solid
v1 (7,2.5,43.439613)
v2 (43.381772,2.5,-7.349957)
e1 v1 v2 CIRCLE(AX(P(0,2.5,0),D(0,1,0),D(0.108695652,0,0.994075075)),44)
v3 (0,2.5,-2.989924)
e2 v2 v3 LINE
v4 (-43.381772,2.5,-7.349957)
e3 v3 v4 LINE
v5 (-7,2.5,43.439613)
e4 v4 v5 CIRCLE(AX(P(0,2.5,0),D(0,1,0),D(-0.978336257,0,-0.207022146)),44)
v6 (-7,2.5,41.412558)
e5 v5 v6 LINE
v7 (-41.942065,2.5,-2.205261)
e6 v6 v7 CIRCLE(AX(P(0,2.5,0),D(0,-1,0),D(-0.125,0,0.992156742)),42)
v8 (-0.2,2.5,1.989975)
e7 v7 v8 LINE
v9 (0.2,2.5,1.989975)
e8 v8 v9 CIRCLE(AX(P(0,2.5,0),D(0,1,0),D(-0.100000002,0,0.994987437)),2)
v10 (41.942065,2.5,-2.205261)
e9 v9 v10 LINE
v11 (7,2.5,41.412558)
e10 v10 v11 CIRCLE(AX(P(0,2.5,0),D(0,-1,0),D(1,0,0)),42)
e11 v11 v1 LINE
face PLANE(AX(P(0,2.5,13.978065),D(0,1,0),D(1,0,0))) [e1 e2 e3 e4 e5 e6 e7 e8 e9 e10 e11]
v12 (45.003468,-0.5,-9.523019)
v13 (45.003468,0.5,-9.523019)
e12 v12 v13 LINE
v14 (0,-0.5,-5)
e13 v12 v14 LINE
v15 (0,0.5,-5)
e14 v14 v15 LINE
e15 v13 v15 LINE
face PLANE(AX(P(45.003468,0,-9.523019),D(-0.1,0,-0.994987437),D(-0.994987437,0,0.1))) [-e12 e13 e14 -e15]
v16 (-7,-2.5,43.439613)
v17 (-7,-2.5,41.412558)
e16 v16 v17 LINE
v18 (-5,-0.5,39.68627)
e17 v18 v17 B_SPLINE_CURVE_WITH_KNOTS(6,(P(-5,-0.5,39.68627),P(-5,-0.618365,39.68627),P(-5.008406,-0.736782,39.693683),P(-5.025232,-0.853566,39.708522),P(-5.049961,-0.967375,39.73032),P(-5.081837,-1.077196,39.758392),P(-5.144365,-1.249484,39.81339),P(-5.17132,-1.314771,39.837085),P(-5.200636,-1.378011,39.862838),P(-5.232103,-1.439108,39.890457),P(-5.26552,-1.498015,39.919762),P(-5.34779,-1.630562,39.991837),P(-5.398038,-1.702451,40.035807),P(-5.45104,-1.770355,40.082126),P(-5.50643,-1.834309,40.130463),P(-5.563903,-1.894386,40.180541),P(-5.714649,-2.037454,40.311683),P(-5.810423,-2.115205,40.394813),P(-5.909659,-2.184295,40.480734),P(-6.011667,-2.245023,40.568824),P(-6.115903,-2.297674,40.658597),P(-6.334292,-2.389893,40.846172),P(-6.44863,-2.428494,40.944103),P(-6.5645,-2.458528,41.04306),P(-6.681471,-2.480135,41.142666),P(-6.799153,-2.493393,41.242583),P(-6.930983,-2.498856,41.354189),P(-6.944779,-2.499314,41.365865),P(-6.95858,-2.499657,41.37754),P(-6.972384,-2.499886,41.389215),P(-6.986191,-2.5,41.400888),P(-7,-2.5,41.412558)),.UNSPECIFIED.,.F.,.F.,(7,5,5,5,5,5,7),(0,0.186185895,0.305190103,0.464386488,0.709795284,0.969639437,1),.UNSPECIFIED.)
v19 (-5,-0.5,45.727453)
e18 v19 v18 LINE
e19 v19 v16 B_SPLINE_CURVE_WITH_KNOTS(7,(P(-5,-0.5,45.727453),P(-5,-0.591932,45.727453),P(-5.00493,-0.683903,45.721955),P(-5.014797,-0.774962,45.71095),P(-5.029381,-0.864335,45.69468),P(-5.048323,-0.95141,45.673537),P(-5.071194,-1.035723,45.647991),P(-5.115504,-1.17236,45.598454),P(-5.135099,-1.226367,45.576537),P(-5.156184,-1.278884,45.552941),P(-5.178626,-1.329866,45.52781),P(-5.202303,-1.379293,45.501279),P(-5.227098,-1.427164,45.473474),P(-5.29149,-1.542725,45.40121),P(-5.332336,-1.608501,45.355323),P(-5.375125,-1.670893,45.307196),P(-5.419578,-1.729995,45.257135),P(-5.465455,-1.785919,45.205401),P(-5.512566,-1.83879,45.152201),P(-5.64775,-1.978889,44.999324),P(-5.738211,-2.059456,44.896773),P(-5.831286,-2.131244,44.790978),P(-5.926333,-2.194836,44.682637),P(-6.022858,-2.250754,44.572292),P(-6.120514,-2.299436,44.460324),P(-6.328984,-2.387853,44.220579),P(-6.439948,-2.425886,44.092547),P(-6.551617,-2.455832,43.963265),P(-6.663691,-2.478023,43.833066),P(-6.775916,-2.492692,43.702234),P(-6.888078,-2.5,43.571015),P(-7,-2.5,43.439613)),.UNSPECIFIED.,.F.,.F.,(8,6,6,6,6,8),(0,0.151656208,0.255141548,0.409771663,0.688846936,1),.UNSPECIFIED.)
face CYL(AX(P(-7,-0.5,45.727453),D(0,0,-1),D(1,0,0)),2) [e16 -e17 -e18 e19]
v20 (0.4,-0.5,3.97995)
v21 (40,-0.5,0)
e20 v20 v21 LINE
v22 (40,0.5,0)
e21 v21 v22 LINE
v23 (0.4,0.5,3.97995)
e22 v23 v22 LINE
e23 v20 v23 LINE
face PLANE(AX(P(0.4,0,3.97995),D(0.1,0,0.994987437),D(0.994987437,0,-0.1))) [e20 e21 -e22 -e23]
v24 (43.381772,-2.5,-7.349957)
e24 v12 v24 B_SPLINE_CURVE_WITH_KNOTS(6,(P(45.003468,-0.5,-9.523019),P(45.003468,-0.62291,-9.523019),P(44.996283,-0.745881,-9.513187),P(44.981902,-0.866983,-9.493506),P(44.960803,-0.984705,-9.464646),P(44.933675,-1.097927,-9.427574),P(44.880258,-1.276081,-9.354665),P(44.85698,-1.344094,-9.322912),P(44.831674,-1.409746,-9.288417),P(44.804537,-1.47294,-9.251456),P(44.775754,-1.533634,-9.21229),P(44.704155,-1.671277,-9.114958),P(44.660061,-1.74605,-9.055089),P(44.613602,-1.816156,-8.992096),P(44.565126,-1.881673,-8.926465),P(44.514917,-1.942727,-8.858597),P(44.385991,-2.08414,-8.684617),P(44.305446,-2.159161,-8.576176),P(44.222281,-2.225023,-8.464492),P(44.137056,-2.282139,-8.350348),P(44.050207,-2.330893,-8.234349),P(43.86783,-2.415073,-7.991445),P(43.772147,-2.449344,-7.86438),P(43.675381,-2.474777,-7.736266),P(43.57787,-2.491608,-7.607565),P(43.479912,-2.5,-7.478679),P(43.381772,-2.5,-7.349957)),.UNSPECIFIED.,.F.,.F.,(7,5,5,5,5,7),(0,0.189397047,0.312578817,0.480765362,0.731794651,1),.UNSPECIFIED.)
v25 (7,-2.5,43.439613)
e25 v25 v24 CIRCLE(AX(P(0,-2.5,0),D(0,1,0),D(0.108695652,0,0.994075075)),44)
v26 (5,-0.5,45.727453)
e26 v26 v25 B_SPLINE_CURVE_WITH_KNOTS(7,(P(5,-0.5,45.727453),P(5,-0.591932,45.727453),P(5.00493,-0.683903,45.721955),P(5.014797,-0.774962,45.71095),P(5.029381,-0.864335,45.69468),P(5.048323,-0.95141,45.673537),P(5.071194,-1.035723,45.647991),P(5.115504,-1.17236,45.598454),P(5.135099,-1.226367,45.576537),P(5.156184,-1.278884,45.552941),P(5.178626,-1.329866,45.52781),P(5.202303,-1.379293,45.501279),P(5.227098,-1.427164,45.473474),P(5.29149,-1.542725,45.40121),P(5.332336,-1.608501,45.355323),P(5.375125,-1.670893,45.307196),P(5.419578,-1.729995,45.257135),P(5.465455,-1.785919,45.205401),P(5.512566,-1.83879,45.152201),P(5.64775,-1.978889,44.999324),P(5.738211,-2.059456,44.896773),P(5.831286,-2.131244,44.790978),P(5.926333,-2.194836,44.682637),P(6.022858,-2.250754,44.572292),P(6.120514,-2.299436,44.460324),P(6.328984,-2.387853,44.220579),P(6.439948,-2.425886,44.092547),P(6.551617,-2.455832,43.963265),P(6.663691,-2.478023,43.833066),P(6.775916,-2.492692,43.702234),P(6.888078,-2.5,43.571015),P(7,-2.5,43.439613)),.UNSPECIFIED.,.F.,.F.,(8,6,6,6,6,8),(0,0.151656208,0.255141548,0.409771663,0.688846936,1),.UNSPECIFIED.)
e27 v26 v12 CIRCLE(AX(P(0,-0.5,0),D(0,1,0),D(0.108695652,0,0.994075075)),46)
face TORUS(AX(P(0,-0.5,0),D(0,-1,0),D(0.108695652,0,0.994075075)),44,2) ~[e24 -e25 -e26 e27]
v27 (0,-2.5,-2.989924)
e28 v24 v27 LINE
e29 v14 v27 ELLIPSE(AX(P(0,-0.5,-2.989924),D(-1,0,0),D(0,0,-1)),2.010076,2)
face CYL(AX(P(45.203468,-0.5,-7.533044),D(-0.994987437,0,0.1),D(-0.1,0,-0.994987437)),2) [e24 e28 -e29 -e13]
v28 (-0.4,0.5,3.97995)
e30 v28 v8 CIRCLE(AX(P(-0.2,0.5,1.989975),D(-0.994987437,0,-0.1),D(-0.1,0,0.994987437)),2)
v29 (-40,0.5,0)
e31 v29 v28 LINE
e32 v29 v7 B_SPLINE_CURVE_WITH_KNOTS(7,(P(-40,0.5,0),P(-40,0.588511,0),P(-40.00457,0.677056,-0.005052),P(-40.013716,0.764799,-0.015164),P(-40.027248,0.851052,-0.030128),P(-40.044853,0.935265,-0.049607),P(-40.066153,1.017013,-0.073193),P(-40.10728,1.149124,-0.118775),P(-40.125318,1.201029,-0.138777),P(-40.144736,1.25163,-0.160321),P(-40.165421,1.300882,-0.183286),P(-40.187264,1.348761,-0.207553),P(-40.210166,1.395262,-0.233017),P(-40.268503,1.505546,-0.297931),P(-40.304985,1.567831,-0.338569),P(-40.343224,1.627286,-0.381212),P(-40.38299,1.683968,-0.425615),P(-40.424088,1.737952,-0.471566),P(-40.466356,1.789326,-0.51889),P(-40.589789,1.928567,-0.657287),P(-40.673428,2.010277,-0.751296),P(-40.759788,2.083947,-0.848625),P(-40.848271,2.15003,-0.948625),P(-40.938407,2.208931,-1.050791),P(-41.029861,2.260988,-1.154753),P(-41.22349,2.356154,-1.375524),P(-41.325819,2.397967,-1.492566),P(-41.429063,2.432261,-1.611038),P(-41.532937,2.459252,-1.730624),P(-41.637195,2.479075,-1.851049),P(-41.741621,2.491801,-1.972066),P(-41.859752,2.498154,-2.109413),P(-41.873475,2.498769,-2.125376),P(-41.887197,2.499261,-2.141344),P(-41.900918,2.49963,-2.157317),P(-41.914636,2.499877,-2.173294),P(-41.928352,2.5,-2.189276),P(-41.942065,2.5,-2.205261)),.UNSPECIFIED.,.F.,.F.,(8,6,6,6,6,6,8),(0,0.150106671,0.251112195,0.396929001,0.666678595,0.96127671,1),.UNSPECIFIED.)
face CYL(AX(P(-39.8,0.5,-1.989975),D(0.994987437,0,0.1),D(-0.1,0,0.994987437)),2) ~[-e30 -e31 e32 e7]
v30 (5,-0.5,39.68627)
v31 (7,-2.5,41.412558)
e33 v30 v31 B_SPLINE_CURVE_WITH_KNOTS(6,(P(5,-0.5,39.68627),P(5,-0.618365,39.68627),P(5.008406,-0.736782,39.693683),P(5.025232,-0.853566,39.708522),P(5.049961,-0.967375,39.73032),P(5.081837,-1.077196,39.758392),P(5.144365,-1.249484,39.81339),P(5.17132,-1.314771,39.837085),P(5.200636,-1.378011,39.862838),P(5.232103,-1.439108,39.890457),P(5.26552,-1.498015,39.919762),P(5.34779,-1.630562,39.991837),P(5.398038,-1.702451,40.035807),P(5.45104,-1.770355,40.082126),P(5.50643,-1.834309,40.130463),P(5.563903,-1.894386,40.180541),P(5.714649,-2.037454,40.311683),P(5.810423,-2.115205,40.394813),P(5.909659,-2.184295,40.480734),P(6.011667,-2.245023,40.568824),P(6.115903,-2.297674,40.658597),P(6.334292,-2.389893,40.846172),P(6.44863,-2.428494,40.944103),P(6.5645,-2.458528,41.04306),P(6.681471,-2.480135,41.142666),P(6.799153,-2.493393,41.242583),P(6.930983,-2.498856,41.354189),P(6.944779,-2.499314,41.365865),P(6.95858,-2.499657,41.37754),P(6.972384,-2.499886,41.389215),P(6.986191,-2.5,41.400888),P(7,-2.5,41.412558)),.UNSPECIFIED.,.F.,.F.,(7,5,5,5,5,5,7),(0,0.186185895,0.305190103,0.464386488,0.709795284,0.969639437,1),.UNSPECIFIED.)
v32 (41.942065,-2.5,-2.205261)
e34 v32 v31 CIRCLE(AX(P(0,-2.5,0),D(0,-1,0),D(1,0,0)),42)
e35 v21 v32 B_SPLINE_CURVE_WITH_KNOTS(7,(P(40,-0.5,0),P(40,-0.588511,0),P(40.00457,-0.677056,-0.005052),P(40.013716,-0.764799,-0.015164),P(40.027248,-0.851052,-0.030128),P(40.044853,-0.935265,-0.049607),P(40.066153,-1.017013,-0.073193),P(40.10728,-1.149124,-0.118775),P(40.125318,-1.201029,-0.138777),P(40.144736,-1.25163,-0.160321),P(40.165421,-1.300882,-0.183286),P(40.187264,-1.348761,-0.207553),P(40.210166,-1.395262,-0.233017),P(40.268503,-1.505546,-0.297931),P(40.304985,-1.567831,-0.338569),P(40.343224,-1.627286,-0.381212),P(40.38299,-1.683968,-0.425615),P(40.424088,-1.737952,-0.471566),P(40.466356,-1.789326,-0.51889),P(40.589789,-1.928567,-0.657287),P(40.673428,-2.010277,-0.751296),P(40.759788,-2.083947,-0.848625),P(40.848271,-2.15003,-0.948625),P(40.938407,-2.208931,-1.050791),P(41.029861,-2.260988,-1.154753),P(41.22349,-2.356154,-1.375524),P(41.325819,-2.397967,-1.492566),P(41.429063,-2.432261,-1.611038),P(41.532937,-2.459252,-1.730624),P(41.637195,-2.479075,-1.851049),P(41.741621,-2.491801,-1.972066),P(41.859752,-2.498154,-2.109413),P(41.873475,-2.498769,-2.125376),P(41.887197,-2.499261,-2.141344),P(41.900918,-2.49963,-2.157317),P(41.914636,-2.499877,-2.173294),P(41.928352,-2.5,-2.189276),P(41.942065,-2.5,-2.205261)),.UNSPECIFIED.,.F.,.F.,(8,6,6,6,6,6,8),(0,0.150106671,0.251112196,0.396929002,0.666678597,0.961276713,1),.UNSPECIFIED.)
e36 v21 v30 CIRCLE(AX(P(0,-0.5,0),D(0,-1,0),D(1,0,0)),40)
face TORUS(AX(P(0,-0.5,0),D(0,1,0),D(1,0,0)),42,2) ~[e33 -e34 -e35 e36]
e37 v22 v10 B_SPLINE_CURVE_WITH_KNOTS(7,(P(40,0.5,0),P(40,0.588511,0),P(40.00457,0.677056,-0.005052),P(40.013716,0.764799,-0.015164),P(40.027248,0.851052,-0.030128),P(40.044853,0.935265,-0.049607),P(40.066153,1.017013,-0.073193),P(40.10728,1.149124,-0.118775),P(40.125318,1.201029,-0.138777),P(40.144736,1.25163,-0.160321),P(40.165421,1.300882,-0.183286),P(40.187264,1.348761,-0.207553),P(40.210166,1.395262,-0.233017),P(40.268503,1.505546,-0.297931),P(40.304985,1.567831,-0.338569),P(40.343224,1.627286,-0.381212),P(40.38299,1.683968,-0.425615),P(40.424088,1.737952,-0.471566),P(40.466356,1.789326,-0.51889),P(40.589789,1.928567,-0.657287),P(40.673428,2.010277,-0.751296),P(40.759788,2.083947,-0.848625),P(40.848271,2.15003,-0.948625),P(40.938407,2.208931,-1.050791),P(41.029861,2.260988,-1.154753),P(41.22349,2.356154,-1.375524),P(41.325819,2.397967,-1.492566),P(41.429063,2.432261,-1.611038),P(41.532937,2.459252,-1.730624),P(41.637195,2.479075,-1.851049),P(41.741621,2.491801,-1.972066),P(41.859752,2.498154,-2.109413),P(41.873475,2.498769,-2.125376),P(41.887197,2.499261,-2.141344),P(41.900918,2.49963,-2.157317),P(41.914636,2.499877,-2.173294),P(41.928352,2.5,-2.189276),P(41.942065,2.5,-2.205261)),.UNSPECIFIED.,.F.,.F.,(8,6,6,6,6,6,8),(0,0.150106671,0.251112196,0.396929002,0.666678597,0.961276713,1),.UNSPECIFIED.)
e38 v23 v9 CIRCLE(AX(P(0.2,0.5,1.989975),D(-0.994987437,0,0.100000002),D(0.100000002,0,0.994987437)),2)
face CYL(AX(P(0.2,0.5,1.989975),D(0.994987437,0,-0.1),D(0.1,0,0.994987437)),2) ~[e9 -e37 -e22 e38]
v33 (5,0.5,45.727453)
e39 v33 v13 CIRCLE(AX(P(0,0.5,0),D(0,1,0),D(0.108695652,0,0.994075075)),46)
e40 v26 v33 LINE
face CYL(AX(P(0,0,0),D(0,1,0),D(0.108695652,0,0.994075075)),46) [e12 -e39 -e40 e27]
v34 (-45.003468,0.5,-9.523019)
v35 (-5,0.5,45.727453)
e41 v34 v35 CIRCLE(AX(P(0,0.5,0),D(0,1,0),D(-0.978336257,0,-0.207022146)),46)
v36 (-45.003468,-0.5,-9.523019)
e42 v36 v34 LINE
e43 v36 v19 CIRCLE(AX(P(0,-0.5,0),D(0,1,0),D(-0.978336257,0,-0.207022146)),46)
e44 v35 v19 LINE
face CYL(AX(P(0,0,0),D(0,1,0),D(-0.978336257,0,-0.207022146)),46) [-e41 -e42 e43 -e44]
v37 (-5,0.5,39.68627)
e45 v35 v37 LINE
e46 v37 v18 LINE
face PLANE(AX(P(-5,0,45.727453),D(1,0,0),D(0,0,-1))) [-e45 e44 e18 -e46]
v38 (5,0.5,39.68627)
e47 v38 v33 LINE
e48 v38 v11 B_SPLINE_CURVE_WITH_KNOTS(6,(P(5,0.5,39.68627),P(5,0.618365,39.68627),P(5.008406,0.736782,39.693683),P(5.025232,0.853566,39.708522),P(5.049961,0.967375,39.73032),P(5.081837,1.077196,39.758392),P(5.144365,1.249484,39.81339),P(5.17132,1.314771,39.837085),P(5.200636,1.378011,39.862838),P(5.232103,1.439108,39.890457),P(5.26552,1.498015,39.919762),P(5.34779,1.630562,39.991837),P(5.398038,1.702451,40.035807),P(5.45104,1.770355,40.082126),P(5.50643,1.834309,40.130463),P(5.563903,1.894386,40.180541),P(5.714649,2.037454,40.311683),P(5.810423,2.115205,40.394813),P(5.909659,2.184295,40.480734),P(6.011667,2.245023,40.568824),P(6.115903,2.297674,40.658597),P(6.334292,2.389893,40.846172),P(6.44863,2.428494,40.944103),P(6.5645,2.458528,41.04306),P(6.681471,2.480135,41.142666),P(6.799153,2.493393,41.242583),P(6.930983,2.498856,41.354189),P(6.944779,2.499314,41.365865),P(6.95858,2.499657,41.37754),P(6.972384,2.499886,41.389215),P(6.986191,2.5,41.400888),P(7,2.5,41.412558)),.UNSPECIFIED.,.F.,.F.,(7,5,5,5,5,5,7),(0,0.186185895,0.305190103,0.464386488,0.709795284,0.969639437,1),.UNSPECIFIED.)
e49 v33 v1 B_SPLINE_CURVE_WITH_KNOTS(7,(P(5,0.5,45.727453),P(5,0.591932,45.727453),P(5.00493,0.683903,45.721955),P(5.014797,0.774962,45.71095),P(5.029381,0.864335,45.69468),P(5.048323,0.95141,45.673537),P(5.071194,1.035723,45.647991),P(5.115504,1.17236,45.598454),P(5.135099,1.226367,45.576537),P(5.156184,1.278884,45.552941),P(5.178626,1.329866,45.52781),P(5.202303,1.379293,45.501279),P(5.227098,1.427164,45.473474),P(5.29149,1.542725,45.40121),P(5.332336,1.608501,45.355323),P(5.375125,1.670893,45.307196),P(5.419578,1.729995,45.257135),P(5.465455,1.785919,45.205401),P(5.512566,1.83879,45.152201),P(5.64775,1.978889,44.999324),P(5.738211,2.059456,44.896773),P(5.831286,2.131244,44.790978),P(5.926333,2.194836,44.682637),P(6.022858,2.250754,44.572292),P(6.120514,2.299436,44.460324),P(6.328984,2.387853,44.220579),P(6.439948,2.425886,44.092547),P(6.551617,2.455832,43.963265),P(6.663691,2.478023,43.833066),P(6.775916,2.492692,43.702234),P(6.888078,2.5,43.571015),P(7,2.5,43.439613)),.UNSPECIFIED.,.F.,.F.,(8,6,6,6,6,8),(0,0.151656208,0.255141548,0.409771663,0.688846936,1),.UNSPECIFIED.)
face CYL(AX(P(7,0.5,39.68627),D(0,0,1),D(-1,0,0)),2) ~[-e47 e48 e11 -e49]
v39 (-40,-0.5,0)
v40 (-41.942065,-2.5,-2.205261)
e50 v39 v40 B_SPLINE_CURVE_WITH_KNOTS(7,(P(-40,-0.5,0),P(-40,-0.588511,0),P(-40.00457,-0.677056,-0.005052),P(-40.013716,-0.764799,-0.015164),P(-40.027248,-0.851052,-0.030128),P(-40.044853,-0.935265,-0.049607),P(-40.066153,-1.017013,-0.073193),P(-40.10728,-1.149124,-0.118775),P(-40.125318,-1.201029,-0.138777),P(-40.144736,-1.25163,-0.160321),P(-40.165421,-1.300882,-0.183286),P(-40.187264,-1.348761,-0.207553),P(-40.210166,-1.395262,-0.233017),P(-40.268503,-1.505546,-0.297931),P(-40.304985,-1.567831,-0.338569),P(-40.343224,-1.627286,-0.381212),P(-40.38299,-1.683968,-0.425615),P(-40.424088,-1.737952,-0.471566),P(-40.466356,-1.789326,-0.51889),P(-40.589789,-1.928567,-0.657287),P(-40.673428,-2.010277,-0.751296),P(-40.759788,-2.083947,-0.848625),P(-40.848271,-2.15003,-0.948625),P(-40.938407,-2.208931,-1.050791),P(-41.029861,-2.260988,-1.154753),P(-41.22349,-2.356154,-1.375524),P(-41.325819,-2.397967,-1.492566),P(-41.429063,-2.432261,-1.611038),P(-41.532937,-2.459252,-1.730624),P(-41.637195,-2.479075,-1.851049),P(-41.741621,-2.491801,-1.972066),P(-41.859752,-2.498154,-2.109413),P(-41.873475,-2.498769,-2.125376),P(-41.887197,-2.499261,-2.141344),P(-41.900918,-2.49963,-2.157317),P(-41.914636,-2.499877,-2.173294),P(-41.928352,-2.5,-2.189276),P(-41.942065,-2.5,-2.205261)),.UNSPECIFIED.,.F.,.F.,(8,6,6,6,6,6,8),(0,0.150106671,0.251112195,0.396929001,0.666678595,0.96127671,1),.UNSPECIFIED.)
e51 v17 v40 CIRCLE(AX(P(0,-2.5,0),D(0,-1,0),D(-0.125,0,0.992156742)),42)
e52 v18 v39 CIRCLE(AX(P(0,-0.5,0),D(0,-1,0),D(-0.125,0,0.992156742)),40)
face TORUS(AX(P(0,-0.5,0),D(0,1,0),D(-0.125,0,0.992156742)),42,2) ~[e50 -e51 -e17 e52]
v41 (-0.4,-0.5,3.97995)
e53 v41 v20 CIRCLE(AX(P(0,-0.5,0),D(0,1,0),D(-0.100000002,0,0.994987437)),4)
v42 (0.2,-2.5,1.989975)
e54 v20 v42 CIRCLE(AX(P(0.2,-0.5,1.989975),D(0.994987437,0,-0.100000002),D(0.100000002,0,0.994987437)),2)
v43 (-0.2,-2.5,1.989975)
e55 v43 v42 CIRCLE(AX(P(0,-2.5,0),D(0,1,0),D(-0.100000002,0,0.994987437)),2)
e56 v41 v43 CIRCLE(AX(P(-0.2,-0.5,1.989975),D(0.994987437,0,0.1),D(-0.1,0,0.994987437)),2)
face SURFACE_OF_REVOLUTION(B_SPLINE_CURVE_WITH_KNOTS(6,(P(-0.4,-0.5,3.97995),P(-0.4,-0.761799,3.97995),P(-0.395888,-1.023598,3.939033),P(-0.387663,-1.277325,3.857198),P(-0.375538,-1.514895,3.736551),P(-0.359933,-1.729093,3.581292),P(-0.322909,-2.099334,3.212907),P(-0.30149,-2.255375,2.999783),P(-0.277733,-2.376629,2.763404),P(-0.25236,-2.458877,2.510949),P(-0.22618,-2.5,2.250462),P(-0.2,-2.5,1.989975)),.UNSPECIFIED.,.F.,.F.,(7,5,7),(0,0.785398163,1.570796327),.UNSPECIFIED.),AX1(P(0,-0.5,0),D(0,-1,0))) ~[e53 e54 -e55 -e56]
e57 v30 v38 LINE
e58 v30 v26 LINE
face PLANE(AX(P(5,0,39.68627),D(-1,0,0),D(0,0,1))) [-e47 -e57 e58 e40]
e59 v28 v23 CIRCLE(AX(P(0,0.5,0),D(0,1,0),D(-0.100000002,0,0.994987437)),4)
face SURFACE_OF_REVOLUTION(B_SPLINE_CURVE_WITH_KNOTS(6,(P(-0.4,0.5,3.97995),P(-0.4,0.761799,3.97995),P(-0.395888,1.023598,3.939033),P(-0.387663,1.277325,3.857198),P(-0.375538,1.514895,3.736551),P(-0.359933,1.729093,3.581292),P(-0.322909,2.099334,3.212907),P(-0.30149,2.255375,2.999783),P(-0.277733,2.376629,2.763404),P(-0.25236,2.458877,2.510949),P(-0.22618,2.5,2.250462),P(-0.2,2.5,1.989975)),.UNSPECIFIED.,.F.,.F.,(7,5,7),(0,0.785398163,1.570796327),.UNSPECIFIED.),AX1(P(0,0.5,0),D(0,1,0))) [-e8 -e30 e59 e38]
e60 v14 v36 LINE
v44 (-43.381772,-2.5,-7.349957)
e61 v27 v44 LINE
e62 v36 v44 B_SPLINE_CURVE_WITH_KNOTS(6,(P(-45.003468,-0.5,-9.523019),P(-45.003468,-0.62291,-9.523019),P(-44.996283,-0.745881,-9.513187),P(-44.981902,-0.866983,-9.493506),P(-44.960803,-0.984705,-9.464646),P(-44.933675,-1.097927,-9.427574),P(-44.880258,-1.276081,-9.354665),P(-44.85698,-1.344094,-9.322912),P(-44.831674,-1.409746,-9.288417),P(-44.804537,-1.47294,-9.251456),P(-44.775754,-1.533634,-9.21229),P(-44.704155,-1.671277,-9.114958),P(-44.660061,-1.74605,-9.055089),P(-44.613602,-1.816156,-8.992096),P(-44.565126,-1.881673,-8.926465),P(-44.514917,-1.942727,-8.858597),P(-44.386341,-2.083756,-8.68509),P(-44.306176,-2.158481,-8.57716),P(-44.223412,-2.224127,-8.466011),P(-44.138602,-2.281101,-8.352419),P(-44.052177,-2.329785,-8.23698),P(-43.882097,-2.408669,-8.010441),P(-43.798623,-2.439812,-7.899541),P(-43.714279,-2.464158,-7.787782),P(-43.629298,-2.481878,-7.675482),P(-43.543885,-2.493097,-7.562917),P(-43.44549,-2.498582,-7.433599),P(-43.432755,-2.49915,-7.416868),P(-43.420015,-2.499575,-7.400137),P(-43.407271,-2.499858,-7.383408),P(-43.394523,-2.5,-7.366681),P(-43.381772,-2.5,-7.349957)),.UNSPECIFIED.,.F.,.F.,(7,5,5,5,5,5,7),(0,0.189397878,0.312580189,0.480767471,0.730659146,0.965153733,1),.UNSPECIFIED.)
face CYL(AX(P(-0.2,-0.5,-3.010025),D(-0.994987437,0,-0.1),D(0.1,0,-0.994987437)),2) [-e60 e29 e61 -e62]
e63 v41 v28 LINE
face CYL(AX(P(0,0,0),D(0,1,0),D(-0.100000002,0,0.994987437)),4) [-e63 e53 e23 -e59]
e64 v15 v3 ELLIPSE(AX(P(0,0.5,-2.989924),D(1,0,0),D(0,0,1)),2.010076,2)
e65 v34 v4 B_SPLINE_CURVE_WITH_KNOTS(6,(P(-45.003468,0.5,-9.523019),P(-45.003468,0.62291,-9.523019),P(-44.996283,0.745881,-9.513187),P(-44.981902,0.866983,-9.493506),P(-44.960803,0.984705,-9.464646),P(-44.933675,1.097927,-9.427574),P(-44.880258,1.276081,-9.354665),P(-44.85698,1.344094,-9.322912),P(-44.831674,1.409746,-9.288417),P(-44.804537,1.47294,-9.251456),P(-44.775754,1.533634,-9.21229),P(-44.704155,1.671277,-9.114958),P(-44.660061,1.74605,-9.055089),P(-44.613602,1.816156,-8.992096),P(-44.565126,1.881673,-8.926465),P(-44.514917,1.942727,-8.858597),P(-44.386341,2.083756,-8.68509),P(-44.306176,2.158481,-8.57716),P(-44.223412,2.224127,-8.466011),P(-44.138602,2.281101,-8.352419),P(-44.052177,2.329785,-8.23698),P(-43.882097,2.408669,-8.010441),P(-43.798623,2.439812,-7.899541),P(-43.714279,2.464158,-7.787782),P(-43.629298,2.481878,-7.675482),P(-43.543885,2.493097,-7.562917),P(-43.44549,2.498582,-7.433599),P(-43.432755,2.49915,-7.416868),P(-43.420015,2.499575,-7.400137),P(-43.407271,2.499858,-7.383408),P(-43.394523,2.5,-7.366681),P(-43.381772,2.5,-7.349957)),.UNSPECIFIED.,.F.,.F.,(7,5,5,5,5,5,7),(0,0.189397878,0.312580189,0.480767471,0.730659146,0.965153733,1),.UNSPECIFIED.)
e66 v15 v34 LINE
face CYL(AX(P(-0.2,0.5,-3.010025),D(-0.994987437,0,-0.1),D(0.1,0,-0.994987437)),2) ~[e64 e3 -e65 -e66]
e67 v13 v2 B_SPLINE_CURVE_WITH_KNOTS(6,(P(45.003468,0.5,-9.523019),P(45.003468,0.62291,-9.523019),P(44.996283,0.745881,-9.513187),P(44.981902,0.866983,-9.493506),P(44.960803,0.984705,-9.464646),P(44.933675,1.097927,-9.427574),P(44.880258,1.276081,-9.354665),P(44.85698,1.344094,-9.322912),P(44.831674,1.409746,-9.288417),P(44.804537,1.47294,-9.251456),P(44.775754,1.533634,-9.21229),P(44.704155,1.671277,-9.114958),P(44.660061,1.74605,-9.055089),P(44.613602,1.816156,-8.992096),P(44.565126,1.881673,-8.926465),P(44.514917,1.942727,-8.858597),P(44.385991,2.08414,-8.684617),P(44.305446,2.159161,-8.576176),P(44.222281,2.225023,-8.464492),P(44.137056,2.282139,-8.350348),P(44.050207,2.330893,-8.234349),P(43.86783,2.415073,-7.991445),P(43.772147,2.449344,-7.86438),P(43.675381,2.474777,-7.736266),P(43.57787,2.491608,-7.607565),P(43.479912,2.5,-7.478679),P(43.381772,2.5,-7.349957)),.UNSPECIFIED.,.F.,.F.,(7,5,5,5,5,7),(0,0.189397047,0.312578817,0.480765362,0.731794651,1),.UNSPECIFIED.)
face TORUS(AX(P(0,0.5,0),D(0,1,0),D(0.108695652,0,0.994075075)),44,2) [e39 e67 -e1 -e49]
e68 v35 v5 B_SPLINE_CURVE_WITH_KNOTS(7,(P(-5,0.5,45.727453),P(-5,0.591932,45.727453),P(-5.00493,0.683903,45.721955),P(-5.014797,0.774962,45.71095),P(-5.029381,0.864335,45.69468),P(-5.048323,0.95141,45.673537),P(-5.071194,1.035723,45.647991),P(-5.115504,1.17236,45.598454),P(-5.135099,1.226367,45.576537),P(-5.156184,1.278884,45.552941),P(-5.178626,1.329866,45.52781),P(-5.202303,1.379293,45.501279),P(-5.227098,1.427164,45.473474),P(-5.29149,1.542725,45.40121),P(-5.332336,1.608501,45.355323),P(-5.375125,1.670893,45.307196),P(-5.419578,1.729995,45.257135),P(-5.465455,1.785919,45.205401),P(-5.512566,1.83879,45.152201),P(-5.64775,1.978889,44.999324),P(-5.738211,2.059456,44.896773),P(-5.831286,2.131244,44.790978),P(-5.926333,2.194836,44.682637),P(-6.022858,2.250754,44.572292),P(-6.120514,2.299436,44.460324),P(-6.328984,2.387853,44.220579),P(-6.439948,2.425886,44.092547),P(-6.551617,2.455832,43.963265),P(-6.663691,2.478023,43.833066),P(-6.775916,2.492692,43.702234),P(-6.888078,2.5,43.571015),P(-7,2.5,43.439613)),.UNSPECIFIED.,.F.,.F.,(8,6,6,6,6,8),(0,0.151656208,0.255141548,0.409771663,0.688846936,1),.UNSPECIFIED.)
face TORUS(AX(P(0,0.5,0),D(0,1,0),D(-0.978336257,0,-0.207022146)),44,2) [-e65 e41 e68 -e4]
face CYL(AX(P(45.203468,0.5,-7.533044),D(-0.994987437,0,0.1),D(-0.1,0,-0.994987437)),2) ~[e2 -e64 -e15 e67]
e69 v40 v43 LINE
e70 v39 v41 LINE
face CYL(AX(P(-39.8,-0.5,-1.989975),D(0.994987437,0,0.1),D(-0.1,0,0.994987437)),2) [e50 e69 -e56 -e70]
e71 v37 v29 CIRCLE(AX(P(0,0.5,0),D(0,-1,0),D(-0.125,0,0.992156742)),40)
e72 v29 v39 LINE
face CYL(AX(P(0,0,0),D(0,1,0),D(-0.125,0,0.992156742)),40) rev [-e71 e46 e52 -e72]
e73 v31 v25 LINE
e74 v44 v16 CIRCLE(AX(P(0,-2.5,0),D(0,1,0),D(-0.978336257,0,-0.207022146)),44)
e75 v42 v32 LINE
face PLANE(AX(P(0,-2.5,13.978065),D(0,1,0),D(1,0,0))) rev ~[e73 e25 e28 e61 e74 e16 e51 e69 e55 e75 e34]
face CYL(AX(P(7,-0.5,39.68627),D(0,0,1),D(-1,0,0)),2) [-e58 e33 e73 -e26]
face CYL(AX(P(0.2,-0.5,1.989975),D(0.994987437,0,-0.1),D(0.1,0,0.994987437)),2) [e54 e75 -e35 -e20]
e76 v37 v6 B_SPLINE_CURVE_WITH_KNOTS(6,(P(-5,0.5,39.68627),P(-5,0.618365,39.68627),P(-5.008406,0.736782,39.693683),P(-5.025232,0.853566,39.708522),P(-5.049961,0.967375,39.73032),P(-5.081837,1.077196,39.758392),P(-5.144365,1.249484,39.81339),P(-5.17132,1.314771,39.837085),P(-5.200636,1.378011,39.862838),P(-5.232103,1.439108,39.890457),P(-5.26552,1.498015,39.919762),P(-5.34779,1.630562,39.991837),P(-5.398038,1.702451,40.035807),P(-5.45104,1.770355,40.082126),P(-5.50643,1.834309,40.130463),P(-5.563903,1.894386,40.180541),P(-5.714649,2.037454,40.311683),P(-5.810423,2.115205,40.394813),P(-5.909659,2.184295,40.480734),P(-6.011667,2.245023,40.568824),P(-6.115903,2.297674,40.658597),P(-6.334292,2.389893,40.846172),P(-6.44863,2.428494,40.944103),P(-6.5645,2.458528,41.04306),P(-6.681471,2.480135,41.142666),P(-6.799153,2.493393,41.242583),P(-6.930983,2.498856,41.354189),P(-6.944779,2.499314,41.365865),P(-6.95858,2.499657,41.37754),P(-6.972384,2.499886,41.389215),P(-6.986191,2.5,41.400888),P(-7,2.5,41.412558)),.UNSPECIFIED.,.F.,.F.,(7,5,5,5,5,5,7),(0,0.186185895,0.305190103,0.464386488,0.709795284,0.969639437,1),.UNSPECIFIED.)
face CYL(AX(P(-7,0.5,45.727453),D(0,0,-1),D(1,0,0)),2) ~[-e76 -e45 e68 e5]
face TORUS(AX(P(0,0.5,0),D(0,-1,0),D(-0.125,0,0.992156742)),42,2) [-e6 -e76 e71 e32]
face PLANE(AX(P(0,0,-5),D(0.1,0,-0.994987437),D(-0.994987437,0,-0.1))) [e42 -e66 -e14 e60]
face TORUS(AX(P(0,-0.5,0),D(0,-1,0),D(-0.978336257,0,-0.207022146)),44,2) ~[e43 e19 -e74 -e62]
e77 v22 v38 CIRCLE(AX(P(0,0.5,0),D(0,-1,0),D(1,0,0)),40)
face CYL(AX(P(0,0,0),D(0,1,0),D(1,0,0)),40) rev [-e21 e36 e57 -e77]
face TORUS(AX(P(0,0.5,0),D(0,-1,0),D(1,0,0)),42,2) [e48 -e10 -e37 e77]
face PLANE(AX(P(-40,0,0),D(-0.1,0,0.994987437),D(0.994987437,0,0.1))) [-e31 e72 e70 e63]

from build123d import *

# Parameters (mm, degrees)
BOSS_EXTRUDE1_DEPTH = 2.5
FILLET1_R           = 2


with BuildPart() as part:
    # Sketch1 → Boss-Extrude1 (new, symmetric)
    with BuildSketch(Plane(origin=(0, 0, 0), x_dir=(1, 0, 0), z_dir=(0, 1, 0))):
        with BuildLine():
            Line((-40, 0), (-0.4, -3.979949748))
            ThreePointArc((-0.4, -3.979949748), (0, -4), (0.4, -3.979949748))
            Line((0.4, -3.979949748), (40, 0))
            ThreePointArc((40, 0), (30, -26.457513111), (5, -39.686269666))
            Line((5, -39.686269666), (5, -45.727453461))
            ThreePointArc((5, -45.727453461), (37.25909777, -26.977020468), (45.00346781, 9.523018697))
            Line((45.00346781, 9.523018697), (0, 5))
            Line((0, 5), (-45.00346781, 9.523018697))
            ThreePointArc((-45.00346781, 9.523018697), (-37.25909777, -26.977020468), (-5, -45.727453461))
            Line((-5, -45.727453461), (-5, -39.686269666))
            ThreePointArc((-5, -39.686269666), (-30, -26.457513111), (-40, 0))
        make_face()
    extrude(amount=BOSS_EXTRUDE1_DEPTH, both=True)

    # Fillet1
    fillet1_edges = [part.edges().sort_by_distance(p)[0] for p in [
        (20.2, 2.5, 1.989974874),
        (-20.2, -2.5, 1.989974874),
        (-30, -2.5, 26.457513111),
        (-5, -2.5, 42.706861563),
        (-37.25909777, -2.5, 26.977020468),
        (-22.501733905, -2.5, -7.261509348),
        (22.501733905, -2.5, -7.261509348),
        (30, 2.5, 26.457513111),
        (37.25909777, -2.5, 26.977020468),
        (5, -2.5, 42.706861563),
        (30, -2.5, 26.457513111),
        (20.2, -2.5, 1.989974874),
        (0, -2.5, 4),
        (5, 2.5, 42.706861563),
        (37.25909777, 2.5, 26.977020468),
        (22.501733905, 2.5, -7.261509348),
        (-22.501733905, 2.5, -7.261509348),
        (-37.25909777, 2.5, 26.977020468),
        (-5, 2.5, 42.706861563),
        (0, 2.5, 4),
        (-30, 2.5, 26.457513111),
        (-20.2, 2.5, 1.989974874),
    ]]
    fillet(fillet1_edges, radius=FILLET1_R)


solid = part.part
